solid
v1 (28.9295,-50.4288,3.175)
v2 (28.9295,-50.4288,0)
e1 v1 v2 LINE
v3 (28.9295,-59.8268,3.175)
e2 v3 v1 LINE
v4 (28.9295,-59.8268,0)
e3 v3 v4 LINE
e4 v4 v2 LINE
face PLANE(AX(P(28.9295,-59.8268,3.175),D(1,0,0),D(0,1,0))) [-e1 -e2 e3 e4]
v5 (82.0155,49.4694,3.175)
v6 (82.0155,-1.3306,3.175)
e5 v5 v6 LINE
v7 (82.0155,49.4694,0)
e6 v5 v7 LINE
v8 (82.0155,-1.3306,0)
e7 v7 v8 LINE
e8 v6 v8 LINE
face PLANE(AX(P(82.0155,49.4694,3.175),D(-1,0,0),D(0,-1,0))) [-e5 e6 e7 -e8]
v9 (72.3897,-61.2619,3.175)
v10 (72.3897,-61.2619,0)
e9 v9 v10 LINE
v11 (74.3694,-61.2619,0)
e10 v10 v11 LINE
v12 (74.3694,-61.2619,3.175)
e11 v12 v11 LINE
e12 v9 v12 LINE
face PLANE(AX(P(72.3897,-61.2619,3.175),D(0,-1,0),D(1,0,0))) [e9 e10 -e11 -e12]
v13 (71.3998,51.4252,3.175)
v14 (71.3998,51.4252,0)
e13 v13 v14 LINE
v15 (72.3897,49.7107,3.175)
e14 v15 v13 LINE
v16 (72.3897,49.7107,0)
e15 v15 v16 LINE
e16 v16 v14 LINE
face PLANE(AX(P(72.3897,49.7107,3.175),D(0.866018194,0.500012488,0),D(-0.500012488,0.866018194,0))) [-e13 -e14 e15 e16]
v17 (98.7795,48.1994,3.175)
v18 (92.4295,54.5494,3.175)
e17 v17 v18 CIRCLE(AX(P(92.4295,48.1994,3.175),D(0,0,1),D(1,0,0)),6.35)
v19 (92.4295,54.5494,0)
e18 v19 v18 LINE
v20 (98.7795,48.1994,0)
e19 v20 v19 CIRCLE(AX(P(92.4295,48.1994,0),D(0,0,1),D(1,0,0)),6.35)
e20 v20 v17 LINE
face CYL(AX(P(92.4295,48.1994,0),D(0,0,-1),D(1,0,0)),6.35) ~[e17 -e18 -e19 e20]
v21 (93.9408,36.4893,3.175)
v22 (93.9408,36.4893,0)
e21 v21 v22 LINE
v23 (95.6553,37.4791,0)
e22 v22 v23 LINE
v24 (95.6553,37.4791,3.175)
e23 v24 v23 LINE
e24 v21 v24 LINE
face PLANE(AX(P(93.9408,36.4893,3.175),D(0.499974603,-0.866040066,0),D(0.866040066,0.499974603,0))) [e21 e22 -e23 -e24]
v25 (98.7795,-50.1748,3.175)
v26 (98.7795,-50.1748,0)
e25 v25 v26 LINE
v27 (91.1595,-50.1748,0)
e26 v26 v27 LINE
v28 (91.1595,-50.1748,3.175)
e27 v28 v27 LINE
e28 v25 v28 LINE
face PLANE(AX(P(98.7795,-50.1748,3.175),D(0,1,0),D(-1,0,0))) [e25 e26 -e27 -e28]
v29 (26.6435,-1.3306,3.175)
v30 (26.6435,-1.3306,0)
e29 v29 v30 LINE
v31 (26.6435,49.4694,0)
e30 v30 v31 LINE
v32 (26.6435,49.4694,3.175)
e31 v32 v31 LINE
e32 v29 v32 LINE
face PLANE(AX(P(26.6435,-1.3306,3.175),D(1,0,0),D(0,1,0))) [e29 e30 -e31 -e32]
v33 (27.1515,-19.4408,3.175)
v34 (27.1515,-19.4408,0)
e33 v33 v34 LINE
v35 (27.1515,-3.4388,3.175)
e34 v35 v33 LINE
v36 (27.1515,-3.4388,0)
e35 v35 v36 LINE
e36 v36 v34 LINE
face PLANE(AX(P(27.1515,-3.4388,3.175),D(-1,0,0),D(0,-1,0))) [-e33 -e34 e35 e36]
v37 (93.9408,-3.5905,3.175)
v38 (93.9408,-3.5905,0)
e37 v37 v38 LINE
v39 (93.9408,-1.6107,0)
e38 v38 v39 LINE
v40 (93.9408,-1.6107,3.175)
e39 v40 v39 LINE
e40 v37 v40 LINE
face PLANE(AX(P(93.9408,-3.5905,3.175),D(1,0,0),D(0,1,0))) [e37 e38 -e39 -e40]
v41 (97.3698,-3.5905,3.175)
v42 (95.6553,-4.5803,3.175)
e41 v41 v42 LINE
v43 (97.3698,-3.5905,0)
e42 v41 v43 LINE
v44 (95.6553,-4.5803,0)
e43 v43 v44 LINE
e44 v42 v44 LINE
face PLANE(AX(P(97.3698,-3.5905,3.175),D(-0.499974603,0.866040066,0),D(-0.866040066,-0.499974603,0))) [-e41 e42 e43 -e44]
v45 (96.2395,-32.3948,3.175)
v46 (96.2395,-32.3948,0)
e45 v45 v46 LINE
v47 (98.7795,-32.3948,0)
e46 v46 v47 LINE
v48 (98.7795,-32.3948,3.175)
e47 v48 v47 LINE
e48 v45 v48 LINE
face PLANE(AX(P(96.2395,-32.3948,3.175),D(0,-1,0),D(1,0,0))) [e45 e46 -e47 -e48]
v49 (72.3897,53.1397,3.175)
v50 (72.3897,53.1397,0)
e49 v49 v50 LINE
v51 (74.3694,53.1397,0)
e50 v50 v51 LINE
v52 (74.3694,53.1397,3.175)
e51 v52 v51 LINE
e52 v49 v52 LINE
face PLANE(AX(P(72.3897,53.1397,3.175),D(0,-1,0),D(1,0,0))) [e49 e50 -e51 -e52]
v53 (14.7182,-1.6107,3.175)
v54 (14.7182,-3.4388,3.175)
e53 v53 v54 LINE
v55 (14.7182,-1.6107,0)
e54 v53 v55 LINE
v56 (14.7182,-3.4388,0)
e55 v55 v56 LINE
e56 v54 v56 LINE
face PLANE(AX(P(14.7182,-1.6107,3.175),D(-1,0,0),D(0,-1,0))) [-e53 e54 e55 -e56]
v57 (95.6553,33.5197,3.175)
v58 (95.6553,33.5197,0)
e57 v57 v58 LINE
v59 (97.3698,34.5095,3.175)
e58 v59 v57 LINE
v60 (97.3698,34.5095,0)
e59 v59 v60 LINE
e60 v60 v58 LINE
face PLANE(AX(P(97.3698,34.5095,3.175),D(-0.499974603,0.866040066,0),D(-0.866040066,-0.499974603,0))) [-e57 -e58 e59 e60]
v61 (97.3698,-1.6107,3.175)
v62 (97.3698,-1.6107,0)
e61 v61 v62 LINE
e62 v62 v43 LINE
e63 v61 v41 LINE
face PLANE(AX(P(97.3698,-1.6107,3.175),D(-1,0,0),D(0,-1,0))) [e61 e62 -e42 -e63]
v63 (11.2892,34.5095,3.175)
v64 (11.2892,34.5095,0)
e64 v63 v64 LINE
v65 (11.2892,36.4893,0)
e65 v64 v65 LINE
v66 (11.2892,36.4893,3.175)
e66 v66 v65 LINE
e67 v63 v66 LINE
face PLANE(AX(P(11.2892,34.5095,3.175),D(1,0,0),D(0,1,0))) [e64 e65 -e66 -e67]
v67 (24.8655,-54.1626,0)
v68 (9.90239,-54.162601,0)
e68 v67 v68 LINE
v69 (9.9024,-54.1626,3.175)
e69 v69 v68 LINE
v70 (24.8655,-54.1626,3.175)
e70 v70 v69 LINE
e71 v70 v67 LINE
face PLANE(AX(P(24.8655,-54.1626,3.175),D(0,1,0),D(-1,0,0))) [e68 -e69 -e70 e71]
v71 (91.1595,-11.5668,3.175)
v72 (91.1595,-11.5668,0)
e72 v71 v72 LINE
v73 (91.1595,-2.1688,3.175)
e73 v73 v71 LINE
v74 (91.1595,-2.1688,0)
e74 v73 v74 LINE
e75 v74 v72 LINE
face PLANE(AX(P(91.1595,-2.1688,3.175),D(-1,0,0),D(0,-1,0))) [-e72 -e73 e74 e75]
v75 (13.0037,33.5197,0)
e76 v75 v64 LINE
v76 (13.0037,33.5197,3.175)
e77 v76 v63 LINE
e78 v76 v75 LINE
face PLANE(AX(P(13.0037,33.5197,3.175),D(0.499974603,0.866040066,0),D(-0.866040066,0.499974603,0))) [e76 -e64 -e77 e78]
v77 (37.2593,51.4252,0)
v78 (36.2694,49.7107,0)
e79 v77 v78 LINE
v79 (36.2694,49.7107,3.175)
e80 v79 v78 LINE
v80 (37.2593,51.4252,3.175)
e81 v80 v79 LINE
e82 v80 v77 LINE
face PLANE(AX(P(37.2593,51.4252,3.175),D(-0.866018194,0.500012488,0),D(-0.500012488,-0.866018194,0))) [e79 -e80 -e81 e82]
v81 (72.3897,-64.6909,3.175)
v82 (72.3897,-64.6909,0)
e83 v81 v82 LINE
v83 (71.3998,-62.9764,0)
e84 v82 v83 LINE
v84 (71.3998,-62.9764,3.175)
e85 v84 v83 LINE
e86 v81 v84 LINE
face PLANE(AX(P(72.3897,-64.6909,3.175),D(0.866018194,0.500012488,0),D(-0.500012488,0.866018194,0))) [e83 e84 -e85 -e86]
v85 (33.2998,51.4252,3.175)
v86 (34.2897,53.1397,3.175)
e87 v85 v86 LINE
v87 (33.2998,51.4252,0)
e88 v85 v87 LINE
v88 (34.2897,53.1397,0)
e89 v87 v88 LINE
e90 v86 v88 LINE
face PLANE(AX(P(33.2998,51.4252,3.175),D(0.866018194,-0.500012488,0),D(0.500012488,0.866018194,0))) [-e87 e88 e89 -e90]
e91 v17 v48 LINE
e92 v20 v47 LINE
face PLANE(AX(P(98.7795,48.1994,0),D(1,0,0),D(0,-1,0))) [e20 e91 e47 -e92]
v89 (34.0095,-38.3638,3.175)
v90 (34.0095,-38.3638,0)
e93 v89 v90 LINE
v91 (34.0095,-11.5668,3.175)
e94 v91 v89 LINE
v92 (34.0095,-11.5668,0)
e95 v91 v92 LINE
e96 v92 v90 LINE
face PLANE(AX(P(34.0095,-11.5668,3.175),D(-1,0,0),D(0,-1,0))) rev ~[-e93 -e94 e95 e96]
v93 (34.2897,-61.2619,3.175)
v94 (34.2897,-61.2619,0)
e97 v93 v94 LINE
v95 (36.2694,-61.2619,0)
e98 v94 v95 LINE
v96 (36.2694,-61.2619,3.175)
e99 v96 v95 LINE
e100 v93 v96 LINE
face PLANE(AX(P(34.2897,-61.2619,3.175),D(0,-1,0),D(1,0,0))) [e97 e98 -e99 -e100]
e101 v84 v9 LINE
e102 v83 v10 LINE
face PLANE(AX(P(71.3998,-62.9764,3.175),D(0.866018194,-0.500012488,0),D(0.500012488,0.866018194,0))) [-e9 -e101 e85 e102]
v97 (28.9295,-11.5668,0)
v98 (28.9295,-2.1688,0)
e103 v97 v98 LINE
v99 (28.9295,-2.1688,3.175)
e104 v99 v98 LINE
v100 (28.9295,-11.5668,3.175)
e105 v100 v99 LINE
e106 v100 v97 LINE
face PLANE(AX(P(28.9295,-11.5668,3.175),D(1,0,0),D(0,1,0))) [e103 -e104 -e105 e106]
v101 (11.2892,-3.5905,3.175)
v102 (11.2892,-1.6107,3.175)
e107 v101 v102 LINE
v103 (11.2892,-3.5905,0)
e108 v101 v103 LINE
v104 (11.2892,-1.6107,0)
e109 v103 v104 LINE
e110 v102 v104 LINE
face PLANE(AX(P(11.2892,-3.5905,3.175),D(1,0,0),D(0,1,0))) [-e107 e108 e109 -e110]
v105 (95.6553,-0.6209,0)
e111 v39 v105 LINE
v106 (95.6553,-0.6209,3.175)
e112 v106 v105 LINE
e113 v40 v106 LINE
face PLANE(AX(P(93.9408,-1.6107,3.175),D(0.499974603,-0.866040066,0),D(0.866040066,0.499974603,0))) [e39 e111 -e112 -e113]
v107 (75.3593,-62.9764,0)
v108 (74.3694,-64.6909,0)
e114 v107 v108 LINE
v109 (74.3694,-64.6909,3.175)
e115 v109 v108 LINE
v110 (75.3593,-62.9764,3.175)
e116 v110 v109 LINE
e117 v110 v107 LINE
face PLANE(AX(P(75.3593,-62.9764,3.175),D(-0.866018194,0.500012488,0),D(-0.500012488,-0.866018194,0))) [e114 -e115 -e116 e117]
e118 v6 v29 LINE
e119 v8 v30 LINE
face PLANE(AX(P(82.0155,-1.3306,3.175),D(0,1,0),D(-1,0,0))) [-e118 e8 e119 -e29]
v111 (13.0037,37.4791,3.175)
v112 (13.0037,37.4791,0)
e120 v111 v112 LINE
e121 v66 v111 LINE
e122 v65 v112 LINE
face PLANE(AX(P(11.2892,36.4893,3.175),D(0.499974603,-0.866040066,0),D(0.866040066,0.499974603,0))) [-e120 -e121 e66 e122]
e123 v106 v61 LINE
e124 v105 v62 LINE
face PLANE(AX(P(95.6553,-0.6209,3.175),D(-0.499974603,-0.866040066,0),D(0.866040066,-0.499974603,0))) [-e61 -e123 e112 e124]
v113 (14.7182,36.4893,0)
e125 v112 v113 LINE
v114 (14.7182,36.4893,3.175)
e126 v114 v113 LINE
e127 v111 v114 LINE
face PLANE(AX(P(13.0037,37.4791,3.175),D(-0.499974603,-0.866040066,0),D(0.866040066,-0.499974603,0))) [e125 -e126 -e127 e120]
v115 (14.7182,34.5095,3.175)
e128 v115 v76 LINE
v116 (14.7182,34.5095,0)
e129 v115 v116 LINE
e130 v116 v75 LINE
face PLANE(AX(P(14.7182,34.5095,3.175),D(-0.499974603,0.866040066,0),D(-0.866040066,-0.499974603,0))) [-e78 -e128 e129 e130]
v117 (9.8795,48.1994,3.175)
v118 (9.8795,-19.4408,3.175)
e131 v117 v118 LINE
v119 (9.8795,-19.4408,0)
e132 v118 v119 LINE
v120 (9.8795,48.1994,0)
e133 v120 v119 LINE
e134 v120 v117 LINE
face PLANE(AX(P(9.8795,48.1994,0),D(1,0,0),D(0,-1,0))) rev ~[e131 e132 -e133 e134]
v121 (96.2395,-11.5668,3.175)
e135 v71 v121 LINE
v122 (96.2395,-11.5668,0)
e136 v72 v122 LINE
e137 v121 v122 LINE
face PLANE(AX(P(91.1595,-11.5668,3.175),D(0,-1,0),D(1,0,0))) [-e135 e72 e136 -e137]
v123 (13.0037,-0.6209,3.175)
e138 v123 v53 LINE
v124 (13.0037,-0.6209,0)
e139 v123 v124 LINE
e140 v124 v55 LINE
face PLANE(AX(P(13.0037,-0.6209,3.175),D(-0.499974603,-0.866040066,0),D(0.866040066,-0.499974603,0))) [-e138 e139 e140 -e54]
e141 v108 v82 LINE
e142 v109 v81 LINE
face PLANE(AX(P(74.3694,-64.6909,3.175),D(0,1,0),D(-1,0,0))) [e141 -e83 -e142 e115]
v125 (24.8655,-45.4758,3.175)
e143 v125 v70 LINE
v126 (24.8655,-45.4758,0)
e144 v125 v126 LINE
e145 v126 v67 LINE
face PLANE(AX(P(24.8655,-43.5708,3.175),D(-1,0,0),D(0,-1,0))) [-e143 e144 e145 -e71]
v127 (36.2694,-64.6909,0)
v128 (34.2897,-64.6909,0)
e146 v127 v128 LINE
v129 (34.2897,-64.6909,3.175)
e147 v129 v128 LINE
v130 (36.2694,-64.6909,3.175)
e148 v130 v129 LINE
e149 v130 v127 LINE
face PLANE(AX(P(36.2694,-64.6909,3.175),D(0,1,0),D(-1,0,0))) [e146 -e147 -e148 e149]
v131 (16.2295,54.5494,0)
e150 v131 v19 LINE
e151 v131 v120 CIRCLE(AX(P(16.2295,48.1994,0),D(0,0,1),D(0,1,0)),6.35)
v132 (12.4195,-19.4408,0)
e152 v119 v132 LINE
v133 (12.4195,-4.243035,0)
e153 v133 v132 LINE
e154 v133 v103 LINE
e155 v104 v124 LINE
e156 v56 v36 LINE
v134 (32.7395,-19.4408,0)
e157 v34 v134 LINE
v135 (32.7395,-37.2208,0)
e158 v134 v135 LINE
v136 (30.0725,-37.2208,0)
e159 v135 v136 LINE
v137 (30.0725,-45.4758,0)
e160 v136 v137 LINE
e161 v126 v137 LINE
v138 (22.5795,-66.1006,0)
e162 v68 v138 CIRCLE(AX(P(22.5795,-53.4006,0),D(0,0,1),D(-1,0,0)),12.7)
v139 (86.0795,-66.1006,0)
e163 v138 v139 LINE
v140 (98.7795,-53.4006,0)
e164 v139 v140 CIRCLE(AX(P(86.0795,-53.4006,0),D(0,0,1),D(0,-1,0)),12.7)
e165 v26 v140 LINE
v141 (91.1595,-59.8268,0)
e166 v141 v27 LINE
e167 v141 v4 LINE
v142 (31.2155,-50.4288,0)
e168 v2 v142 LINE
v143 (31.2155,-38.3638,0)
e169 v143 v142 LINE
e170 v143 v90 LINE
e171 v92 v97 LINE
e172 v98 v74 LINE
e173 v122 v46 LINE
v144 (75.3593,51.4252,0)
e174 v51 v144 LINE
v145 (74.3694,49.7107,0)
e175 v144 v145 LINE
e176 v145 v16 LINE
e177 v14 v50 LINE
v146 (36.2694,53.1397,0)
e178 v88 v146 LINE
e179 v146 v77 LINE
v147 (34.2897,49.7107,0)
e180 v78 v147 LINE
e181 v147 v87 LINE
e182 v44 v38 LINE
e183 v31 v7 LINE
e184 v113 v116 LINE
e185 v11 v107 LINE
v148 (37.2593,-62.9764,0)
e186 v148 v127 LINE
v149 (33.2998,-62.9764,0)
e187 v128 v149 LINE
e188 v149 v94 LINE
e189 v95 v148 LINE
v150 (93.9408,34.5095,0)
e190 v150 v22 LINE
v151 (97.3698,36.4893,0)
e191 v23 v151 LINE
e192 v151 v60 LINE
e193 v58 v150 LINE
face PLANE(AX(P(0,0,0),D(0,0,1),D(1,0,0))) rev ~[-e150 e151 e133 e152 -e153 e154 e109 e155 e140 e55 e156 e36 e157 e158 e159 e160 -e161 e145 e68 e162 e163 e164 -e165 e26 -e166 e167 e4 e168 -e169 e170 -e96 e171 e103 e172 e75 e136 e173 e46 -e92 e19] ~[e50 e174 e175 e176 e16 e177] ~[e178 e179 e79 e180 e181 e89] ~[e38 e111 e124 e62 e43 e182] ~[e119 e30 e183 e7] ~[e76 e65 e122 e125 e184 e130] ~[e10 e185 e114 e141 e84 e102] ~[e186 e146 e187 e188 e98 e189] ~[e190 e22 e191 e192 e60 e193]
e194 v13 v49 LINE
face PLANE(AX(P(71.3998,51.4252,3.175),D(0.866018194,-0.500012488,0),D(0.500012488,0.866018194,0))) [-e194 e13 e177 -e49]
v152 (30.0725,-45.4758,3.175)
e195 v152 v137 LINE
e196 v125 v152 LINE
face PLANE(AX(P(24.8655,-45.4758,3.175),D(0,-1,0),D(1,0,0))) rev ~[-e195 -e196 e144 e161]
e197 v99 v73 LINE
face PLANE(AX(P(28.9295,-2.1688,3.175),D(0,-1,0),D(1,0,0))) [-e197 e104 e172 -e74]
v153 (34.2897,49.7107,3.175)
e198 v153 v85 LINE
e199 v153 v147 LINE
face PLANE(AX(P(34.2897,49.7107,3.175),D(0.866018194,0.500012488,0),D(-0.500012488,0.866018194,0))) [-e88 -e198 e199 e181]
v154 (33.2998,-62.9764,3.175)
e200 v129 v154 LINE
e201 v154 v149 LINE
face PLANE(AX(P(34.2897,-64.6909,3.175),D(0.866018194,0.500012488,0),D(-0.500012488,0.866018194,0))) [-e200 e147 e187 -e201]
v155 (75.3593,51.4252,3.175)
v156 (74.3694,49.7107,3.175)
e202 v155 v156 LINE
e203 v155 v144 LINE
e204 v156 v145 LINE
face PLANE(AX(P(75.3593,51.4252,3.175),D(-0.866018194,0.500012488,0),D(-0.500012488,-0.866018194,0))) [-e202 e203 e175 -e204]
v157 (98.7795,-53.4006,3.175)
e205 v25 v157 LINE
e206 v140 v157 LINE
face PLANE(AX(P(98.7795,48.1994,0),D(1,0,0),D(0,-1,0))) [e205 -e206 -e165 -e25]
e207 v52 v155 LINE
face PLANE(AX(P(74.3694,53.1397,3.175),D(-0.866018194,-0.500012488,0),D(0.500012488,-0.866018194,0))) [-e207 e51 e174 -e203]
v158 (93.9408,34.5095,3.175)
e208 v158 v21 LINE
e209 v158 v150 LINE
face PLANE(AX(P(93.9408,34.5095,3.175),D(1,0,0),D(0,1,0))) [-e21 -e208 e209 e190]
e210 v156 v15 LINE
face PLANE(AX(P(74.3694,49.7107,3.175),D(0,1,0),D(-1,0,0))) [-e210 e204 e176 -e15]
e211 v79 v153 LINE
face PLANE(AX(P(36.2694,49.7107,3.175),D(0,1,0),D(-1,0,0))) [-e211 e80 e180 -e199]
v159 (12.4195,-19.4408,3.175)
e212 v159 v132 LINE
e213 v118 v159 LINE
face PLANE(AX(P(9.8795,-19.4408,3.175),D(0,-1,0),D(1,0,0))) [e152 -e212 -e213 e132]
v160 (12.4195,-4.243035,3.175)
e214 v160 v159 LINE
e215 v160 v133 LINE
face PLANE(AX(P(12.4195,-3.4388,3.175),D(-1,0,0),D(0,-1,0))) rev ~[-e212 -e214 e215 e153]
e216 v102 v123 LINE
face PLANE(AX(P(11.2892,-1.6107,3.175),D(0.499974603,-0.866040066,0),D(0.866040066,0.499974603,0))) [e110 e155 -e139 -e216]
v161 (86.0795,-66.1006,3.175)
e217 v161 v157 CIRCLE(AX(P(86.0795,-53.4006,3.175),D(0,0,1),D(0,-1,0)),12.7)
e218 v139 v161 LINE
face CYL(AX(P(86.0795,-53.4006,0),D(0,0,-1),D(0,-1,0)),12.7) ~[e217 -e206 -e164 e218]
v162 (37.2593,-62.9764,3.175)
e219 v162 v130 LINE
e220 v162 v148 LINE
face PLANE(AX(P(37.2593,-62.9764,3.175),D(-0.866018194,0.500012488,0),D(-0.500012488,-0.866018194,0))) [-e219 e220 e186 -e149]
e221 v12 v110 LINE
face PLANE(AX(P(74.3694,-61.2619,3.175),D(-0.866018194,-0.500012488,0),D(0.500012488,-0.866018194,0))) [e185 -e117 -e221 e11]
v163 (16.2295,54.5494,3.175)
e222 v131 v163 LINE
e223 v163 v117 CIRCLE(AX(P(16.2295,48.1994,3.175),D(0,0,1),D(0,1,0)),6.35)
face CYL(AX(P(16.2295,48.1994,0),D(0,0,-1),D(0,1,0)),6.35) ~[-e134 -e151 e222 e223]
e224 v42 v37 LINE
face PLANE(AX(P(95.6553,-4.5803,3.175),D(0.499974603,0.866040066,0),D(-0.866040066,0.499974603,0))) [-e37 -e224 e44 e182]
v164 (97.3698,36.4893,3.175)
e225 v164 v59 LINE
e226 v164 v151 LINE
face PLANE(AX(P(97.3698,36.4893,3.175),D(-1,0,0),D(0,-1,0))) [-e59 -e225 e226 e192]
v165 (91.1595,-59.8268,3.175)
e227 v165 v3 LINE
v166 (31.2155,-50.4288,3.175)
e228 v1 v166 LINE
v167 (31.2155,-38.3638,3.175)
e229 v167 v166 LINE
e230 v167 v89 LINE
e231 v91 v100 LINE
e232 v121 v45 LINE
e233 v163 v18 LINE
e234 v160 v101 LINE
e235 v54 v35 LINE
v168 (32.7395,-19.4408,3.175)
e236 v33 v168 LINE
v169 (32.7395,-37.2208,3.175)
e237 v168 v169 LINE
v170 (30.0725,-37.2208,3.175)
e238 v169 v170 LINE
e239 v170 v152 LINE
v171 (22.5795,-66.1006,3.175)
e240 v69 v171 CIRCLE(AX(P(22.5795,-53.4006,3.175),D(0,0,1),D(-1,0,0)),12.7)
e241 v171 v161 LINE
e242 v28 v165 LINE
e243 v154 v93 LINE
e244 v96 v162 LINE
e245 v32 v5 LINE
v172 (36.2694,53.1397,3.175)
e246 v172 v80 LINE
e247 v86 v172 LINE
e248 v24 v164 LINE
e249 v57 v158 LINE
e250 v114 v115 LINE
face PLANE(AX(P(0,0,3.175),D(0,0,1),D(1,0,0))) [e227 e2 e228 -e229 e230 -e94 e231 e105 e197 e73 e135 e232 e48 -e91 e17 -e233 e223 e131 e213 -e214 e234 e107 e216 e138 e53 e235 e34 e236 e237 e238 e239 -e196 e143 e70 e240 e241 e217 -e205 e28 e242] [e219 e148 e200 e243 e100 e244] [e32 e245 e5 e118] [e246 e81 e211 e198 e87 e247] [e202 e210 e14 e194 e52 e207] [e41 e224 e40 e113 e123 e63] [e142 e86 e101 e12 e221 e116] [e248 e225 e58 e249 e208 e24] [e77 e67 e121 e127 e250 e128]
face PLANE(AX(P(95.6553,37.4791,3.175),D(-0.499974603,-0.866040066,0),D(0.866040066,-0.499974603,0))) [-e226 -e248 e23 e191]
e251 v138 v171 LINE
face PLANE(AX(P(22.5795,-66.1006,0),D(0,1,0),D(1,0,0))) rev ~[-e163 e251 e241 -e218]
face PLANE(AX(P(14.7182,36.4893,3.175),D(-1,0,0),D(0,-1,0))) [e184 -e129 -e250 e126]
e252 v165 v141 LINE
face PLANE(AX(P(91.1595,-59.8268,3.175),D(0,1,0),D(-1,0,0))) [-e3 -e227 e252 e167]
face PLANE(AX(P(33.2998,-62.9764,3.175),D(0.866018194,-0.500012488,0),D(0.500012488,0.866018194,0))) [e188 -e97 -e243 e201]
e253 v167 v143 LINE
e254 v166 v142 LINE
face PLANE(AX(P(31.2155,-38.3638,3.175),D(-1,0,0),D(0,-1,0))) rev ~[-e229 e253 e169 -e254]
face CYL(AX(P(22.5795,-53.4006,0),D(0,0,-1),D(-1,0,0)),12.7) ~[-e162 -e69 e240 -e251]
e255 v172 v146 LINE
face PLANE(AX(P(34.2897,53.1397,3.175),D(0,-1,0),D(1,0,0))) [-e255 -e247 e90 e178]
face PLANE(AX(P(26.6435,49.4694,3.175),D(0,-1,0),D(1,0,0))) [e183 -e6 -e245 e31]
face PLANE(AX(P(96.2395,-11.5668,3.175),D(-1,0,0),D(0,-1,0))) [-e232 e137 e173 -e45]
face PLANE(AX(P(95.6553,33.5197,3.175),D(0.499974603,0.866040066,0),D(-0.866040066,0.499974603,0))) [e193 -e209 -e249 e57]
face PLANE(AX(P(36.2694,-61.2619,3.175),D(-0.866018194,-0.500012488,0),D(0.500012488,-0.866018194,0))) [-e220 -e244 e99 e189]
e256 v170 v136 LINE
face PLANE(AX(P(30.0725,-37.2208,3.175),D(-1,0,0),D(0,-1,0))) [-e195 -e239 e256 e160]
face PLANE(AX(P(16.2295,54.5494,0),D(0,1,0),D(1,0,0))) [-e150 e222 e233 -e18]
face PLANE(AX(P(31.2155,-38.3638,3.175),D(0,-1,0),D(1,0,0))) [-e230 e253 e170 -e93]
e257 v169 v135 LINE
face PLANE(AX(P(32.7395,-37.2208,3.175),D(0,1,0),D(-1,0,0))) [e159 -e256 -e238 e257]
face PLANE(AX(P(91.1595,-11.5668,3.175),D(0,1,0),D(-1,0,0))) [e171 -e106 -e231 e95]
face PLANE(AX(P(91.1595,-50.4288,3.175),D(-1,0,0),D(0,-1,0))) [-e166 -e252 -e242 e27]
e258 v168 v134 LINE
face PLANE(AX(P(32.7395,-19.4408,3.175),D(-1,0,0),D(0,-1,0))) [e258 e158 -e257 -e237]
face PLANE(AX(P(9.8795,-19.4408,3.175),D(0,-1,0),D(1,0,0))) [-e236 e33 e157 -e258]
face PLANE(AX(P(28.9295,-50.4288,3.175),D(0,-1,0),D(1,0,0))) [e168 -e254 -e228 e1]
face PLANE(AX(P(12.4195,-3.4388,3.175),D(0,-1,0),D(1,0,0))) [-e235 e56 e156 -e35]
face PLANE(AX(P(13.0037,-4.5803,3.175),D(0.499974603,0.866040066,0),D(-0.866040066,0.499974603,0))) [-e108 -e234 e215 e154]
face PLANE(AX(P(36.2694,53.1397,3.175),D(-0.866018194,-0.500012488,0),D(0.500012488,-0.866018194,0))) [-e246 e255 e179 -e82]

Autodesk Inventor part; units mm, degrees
ref_plane "YZ Plane" through (0, 0, 0) normal (1, 0, 0) x (0, 1, 0)
ref_plane "XZ Plane" through (0, 0, 0) normal (0, 1, 0) x (-1, 0, 0)
ref_plane "XY Plane" through (0, 0, 0) normal (0, 0, 1) x (1, 0, 0)
sketch "Sketch1" plane through (0, 0, 0) normal (0, 0, 1) x (1, 0, 0)
  line L0 (9.8795, 48.1994) -> (9.8795, -53.4006)
  line L1 (16.2295, 54.5494) -> (92.4295, 54.5494)
  line L2 (98.7795, 48.1994) -> (98.7795, -53.4006)
  line L3 (22.5795, -66.1006) -> (86.0795, -66.1006)
  arc A0 (9.8795, -53.4006) -> (22.5795, -66.1006) centre (22.5795, -53.4006) ccw
  arc A1 (16.2295, 54.5494) -> (9.8795, 48.1994) centre (16.2295, 48.1994) ccw
  arc A2 (98.7795, 48.1994) -> (92.4295, 54.5494) centre (92.4295, 48.1994) ccw
  arc A3 (86.0795, -66.1006) -> (98.7795, -53.4006) centre (86.0795, -53.4006) ccw
  point P0 (0, 0)
  dimension "d0" = 12.7
  dimension "d1" = 6.35
  dimension "d2" = 120.65
  dimension "d3" = 88.9
extrude "Extrusion1" add sketch "Sketch1" along normal blind 3.175
sketch "Sketch2" plane through (0, 0, 3.175) normal (0, 0, 1) x (1, 0, 0)
  line L0 (9.8795, -53.4006) -> (9.8795, 48.1994) projected
  line L1 (98.7795, 48.1994) -> (98.7795, -53.4006) projected
  line L2 (16.2295, 54.5494) -> (92.4295, 54.5494) projected
  line L3 (26.6435, 49.4694) -> (82.0155, 49.4694)
  line L4 (82.0155, 49.4694) -> (82.0155, -1.3306)
  line L5 (82.0155, -1.3306) -> (26.6435, -1.3306)
  line L6 (26.6435, -1.3306) -> (26.6435, 49.4694)
  point P0 (0, 0)
  dimension "d13" = 16.764
  dimension "d14" = 16.764
  dimension "d15" = 5.08
  dimension "d16" = 55.88
extrude "Extrusion2" cut sketch "Sketch2" against normal through all
sketch "Sketch3" plane through (0, 0, 3.175) normal (0, 0, 1) x (1, 0, 0)
  line L0 (9.8795, -53.4006) -> (9.8795, 48.1994) projected
  line L1 (86.0795, -66.1006) -> (22.5795, -66.1006) projected
  line L2 (9.8795, -19.4408) -> (32.7395, -19.4408)
  line L3 (32.7395, -19.4408) -> (32.7395, -37.2208)
  line L4 (32.7395, -37.2208) -> (9.8795, -37.2208)
  point P0 (0, 0)
  dimension "d20" = 28.8798
  dimension "d21" = 46.6598
  dimension "d22" = 22.86
extrude "Extrusion3" cut sketch "Sketch3" against normal through all
sketch "Sketch4" plane through (0, 0, 3.175) normal (0, 0, 1) x (1, 0, 0)
  line L0 (9.8795, -53.4006) -> (9.8795, -37.2208) projected
  arc A0 (9.8795, -53.4006) -> (22.5795, -66.1006) centre (22.5795, -53.4006) ccw projected
  line L1 (86.0795, -66.1006) -> (22.5795, -66.1006) projected
  line L2 (24.8655, -43.5708) -> (24.8655, -54.1626)
  line L3 (24.8655, -43.5708) -> (9.8795, -43.5708)
  line L4 (24.8655, -54.1626) -> (9.9024, -54.1626)
  point P0 (0, 0)
  dimension "d26" = 22.5298
  dimension "d27" = 14.986
  dimension "d28" = 11.938
extrude "Extrusion4" cut sketch "Sketch4" against normal through all
sketch "Sketch5" plane through (0, 0, 3.175) normal (0, 0, 1) x (1, 0, 0)
  line L0 (86.0795, -66.1006) -> (22.5795, -66.1006) projected
  line L1 (9.8795, -19.4408) -> (9.8795, 48.1994) projected
  line L2 (9.8795, -43.5708) -> (9.8795, -37.2208) projected
  line L3 (28.9295, -2.1688) -> (91.1595, -2.1688)
  line L4 (91.1595, -2.1688) -> (91.1595, -11.5668)
  line L5 (91.1595, -11.5668) -> (28.9295, -11.5668)
  line L6 (28.9295, -11.5668) -> (28.9295, -2.1688)
  line L7 (28.9295, -50.4288) -> (91.1595, -50.4288)
  line L8 (91.1595, -50.4288) -> (91.1595, -59.8268)
  line L9 (91.1595, -59.8268) -> (28.9295, -59.8268)
  line L10 (28.9295, -59.8268) -> (28.9295, -50.4288)
  point P0 (0, 0)
  dimension "d31" = 54.5338
  dimension "d32" = 9.398
  dimension "d33" = 62.23
  dimension "d34" = 19.05
  dimension "d35" = 19.05
  dimension "d36" = 6.2738
extrude "Extrusion5" cut sketch "Sketch5" against normal through all
sketch "Sketch8" plane through (0, 0, 3.175) normal (0, 0, 1) x (1, 0, 0)
  line L0 (91.1595, -11.5668) -> (28.9295, -11.5668) projected
  line L1 (28.9295, -50.4288) -> (91.1595, -50.4288) projected
  line L2 (91.1595, -50.4288) -> (91.1595, -59.8268) projected
  line L3 (9.8795, -43.5708) -> (24.8655, -43.5708) projected
  line L4 (24.8655, -43.5708) -> (24.8655, -54.1626) projected
  line L5 (86.0795, -66.1006) -> (22.5795, -66.1006) projected
  line L6 (98.7795, 48.1994) -> (98.7795, -53.4006) projected
  line L7 (9.8795, -19.4408) -> (9.8795, 48.1994) projected
  line L8 (9.8795, -19.4408) -> (32.7395, -19.4408) projected
  line L9 (32.7395, -37.2208) -> (9.8795, -37.2208) projected
  line L10 (9.8795, -43.5708) -> (9.8795, -37.2208) projected
  line L11 (96.2395, -11.5668) -> (96.2395, -32.3948)
  line L12 (96.2395, -32.3948) -> (98.7795, -32.3948)
  line L13 (91.1595, -11.5668) -> (96.2395, -11.5668)
  line L14 (98.7795, -50.1748) -> (91.1595, -50.1748)
  line L15 (9.8795, -3.4388) -> (27.1515, -3.4388)
  line L16 (27.1515, -3.4388) -> (27.1515, -19.4408)
  line L17 (34.0095, -11.5668) -> (34.0095, -38.3638)
  line L18 (31.2155, -38.3638) -> (31.2155, -50.4288)
  line L19 (30.0725, -37.2208) -> (30.0725, -45.4758)
  line L20 (24.8655, -45.4758) -> (30.0725, -45.4758)
  line L21 (31.2155, -38.3638) -> (34.0095, -38.3638)
  line L22 (91.1595, -50.4288) -> (91.1595, -50.1748)
  line L23 (12.4195, -3.4388) -> (12.4195, -19.4408)
  point P0 (0, 0)
  dimension "d63" = 2.54
  dimension "d67" = 15.9258
  dimension "d68" = 16.002
  dimension "d69" = 17.272
  dimension "d70" = 24.13
  dimension "d71" = 21.336
  dimension "d72" = 1.143
  dimension "d73" = 1.143
  dimension "d76" = 17.78
  dimension "d78" = 2.54
  dimension "d79" = 1.905
extrude "Extrusion11" cut sketch "Sketch8" against normal through all contours L13 L11 L12 L6 L14 L22 L1 L18 L21 L17 L0 | L10 L9 L19 L20 L4 L3 | L23 L15 L16 L8
sketch "Sketch9" plane through (0, 0, 3.175) normal (0, 0, 1) x (1, 0, 0)
  line L0 (98.7795, 48.1994) -> (98.7795, -32.3948) projected
  line L1 (16.2295, 54.5494) -> (92.4295, 54.5494) projected
  line L2 (9.8795, -19.4408) -> (9.8795, 48.1994) projected
  line L3 (86.0795, -66.1006) -> (22.5795, -66.1006) projected
  line L4 (36.2694, 49.7107) -> (34.2897, 49.7107)
  line L5 (34.2897, 49.7107) -> (33.2998, 51.4252)
  line L6 (33.2998, 51.4252) -> (34.2897, 53.1397)
  line L7 (34.2897, 53.1397) -> (36.2694, 53.1397)
  line L8 (36.2694, 53.1397) -> (37.2593, 51.4252)
  line L9 (37.2593, 51.4252) -> (36.2694, 49.7107)
  line L10 (14.7182, 34.5095) -> (13.0037, 33.5197)
  line L11 (13.0037, 33.5197) -> (11.2892, 34.5095)
  line L12 (11.2892, 34.5095) -> (11.2892, 36.4893)
  line L13 (11.2892, 36.4893) -> (13.0037, 37.4791)
  line L14 (13.0037, 37.4791) -> (14.7182, 36.4893)
  line L15 (14.7182, 36.4893) -> (14.7182, 34.5095)
  line L16 (14.7182, -3.5905) -> (13.0037, -4.5803)
  line L17 (13.0037, -4.5803) -> (11.2892, -3.5905)
  line L18 (11.2892, -3.5905) -> (11.2892, -1.6107)
  line L19 (11.2892, -1.6107) -> (13.0037, -0.6209)
  line L20 (13.0037, -0.6209) -> (14.7182, -1.6107)
  line L21 (14.7182, -1.6107) -> (14.7182, -3.5905)
  line L22 (75.3593, 51.4252) -> (74.3694, 49.7107)
  line L23 (74.3694, 49.7107) -> (72.3897, 49.7107)
  line L24 (72.3897, 49.7107) -> (71.3998, 51.4252)
  line L25 (71.3998, 51.4252) -> (72.3897, 53.1397)
  line L26 (72.3897, 53.1397) -> (74.3694, 53.1397)
  line L27 (74.3694, 53.1397) -> (75.3593, 51.4252)
  line L28 (97.3698, 34.5095) -> (95.6553, 33.5197)
  line L29 (95.6553, 33.5197) -> (93.9408, 34.5095)
  line L30 (93.9408, 34.5095) -> (93.9408, 36.4893)
  line L31 (93.9408, 36.4893) -> (95.6553, 37.4791)
  line L32 (95.6553, 37.4791) -> (97.3698, 36.4893)
  line L33 (97.3698, 36.4893) -> (97.3698, 34.5095)
  line L34 (95.6553, -4.5803) -> (93.9408, -3.5905)
  line L35 (93.9408, -3.5905) -> (93.9408, -1.6107)
  line L36 (93.9408, -1.6107) -> (95.6553, -0.6209)
  line L37 (95.6553, -0.6209) -> (97.3698, -1.6107)
  line L38 (97.3698, -1.6107) -> (97.3698, -3.5905)
  line L39 (97.3698, -3.5905) -> (95.6553, -4.5803)
  line L40 (36.2694, -64.6909) -> (34.2897, -64.6909)
  line L41 (34.2897, -64.6909) -> (33.2998, -62.9764)
  line L42 (33.2998, -62.9764) -> (34.2897, -61.2619)
  line L43 (34.2897, -61.2619) -> (36.2694, -61.2619)
  line L44 (36.2694, -61.2619) -> (37.2593, -62.9764)
  line L45 (37.2593, -62.9764) -> (36.2694, -64.6909)
  line L46 (75.3593, -62.9764) -> (74.3694, -64.6909)
  line L47 (74.3694, -64.6909) -> (72.3897, -64.6909)
  line L48 (72.3897, -64.6909) -> (71.3998, -62.9764)
  line L49 (71.3998, -62.9764) -> (72.3897, -61.2619)
  line L50 (72.3897, -61.2619) -> (74.3694, -61.2619)
  line L51 (74.3694, -61.2619) -> (75.3593, -62.9764)
  point P0 (0, 0)
  point P1 (35.2795, 51.4252)
  point P2 (13.0037, 35.4994)
  point P3 (13.0037, -2.6006)
  point P4 (73.3795, 51.4252)
  point P5 (95.6553, 35.4994)
  point P6 (95.6553, -2.6006)
  point P7 (35.2795, -62.9764)
  point P8 (73.3795, -62.9764)
  dimension "d80" = 3.1242
  dimension "d81" = 3.1242
  dimension "d82" = 38.1
  dimension "d83" = 3.429
  dimension "d84" = 19.05
  dimension "d85" = 25.4
  dimension "d86" = 38.1
  dimension "d87" = 3.1242
  dimension "d88" = 3.1242
extrude "Extrusion12" cut sketch "Sketch9" against normal through all
sketch "Sketch10" plane through (0, 0, 0) normal (0, 0, -1) x (-1, 0, 0)
  line L0 (-14.7182, -3.4388) -> (-14.7182, -1.6107) projected
  line L1 (-14.7182, -1.6107) -> (-13.0037, -0.6209) projected
  line L2 (-13.0037, -0.6209) -> (-11.2892, -1.6107) projected
  line L3 (-11.2892, -1.6107) -> (-11.2892, -3.5905) projected
  line L4 (-11.2892, -3.5905) -> (-12.4195, -4.243) projected
  line L5 (-12.4195, -4.243) -> (-12.4195, -19.4408) projected
  line L6 (-12.4195, -19.4408) -> (-9.8795, -19.4408) projected
  line L7 (-9.8795, 48.1994) -> (-9.8795, -19.4408) projected
  arc A0 (-9.8795, 48.1994) -> (-16.2295, 54.5494) centre (-16.2295, 48.1994) ccw projected
  line L8 (-92.4295, 54.5494) -> (-16.2295, 54.5494) projected
  arc A1 (-92.4295, 54.5494) -> (-98.7795, 48.1994) centre (-92.4295, 48.1994) ccw projected
  line L9 (-98.7795, -32.3948) -> (-98.7795, 48.1994) projected
  line L10 (-98.7795, -32.3948) -> (-96.2395, -32.3948) projected
  line L11 (-96.2395, -32.3948) -> (-96.2395, -11.5668) projected
  line L12 (-96.2395, -11.5668) -> (-91.1595, -11.5668) projected
  line L13 (-91.1595, -11.5668) -> (-91.1595, -2.1688) projected
  line L14 (-91.1595, -2.1688) -> (-28.9295, -2.1688) projected
  line L15 (-28.9295, -2.1688) -> (-28.9295, -11.5668) projected
  line L16 (-28.9295, -11.5668) -> (-34.0095, -11.5668) projected
  line L17 (-34.0095, -11.5668) -> (-34.0095, -38.3638) projected
  line L18 (-34.0095, -38.3638) -> (-31.2155, -38.3638) projected
  line L19 (-31.2155, -38.3638) -> (-31.2155, -50.4288) projected
  line L20 (-31.2155, -50.4288) -> (-28.9295, -50.4288) projected
  line L21 (-28.9295, -50.4288) -> (-28.9295, -59.8268) projected
  line L22 (-28.9295, -59.8268) -> (-91.1595, -59.8268) projected
  line L23 (-91.1595, -59.8268) -> (-91.1595, -50.1748) projected
  line L24 (-91.1595, -50.1748) -> (-98.7795, -50.1748) projected
  line L25 (-98.7795, -53.4006) -> (-98.7795, -50.1748) projected
  arc A2 (-98.7795, -53.4006) -> (-86.0795, -66.1006) centre (-86.0795, -53.4006) ccw projected
  line L26 (-22.5795, -66.1006) -> (-86.0795, -66.1006) projected
  arc A3 (-22.5795, -66.1006) -> (-9.9024, -54.1626) centre (-22.5795, -53.4006) ccw projected
  line L27 (-9.9024, -54.1626) -> (-24.8655, -54.1626) projected
  line L28 (-24.8655, -54.1626) -> (-24.8655, -45.4758) projected
  line L29 (-24.8655, -45.4758) -> (-30.0725, -45.4758) projected
  line L30 (-30.0725, -45.4758) -> (-30.0725, -37.2208) projected
  line L31 (-30.0725, -37.2208) -> (-32.7395, -37.2208) projected
  line L32 (-32.7395, -37.2208) -> (-32.7395, -19.4408) projected
  line L33 (-32.7395, -19.4408) -> (-27.1515, -19.4408) projected
  line L34 (-27.1515, -19.4408) -> (-27.1515, -3.4388) projected
  line L35 (-27.1515, -3.4388) -> (-14.7182, -3.4388) projected
  line L36 (-26.6435, 49.4694) -> (-26.6435, -1.3306) projected
  line L37 (-26.6435, -1.3306) -> (-82.0155, -1.3306) projected
  line L38 (-82.0155, -1.3306) -> (-82.0155, 49.4694) projected
  line L39 (-82.0155, 49.4694) -> (-26.6435, 49.4694) projected
  line L40 (-97.3698, 34.5095) -> (-97.3698, 36.4893) projected
  line L41 (-97.3698, 36.4893) -> (-95.6553, 37.4791) projected
  line L42 (-95.6553, 37.4791) -> (-93.9408, 36.4893) projected
  line L43 (-93.9408, 36.4893) -> (-93.9408, 34.5095) projected
  line L44 (-93.9408, 34.5095) -> (-95.6553, 33.5197) projected
  line L45 (-95.6553, 33.5197) -> (-97.3698, 34.5095) projected
  line L46 (-14.7182, 34.5095) -> (-14.7182, 36.4893) projected
  line L47 (-14.7182, 36.4893) -> (-13.0037, 37.4791) projected
  line L48 (-13.0037, 37.4791) -> (-11.2892, 36.4893) projected
  line L49 (-11.2892, 36.4893) -> (-11.2892, 34.5095) projected
  line L50 (-11.2892, 34.5095) -> (-13.0037, 33.5197) projected
  line L51 (-13.0037, 33.5197) -> (-14.7182, 34.5095) projected
  line L52 (-36.2694, -64.6909) -> (-37.2593, -62.9764) projected
  line L53 (-37.2593, -62.9764) -> (-36.2694, -61.2619) projected
  line L54 (-36.2694, -61.2619) -> (-34.2897, -61.2619) projected
  line L55 (-34.2897, -61.2619) -> (-33.2998, -62.9764) projected
  line L56 (-33.2998, -62.9764) -> (-34.2897, -64.6909) projected
  line L57 (-34.2897, -64.6909) -> (-36.2694, -64.6909) projected
  line L58 (-75.3593, 51.4252) -> (-74.3694, 53.1397) projected
  line L59 (-74.3694, 53.1397) -> (-72.3897, 53.1397) projected
  line L60 (-72.3897, 53.1397) -> (-71.3998, 51.4252) projected
  line L61 (-71.3998, 51.4252) -> (-72.3897, 49.7107) projected
  line L62 (-72.3897, 49.7107) -> (-74.3694, 49.7107) projected
  line L63 (-74.3694, 49.7107) -> (-75.3593, 51.4252) projected
  line L64 (-75.3593, -62.9764) -> (-74.3694, -61.2619) projected
  line L65 (-74.3694, -61.2619) -> (-72.3897, -61.2619) projected
  line L66 (-72.3897, -61.2619) -> (-71.3998, -62.9764) projected
  line L67 (-71.3998, -62.9764) -> (-72.3897, -64.6909) projected
  line L68 (-72.3897, -64.6909) -> (-74.3694, -64.6909) projected
  line L69 (-74.3694, -64.6909) -> (-75.3593, -62.9764) projected
  line L70 (-95.6553, -4.5803) -> (-97.3698, -3.5905) projected
  line L71 (-97.3698, -3.5905) -> (-97.3698, -1.6107) projected
  line L72 (-97.3698, -1.6107) -> (-95.6553, -0.6209) projected
  line L73 (-95.6553, -0.6209) -> (-93.9408, -1.6107) projected
  line L74 (-93.9408, -1.6107) -> (-93.9408, -3.5905) projected
  line L75 (-93.9408, -3.5905) -> (-95.6553, -4.5803) projected
  line L76 (-36.2694, 49.7107) -> (-37.2593, 51.4252) projected
  line L77 (-37.2593, 51.4252) -> (-36.2694, 53.1397) projected
  line L78 (-36.2694, 53.1397) -> (-34.2897, 53.1397) projected
  line L79 (-34.2897, 53.1397) -> (-33.2998, 51.4252) projected
  line L80 (-33.2998, 51.4252) -> (-34.2897, 49.7107) projected
  line L81 (-34.2897, 49.7107) -> (-36.2694, 49.7107) projected
  point P0 (0, 0)
  dimension "d91" = 16.764
  dimension "d92" = 72.136
  dimension "d93" = 115.57
  dimension "d94" = 64.77
equation "\"d14\" = d13"
equation "\"d35\" = d34"
equation "\"d73\" = d72"
properties part number "beagle_spacer_top"
